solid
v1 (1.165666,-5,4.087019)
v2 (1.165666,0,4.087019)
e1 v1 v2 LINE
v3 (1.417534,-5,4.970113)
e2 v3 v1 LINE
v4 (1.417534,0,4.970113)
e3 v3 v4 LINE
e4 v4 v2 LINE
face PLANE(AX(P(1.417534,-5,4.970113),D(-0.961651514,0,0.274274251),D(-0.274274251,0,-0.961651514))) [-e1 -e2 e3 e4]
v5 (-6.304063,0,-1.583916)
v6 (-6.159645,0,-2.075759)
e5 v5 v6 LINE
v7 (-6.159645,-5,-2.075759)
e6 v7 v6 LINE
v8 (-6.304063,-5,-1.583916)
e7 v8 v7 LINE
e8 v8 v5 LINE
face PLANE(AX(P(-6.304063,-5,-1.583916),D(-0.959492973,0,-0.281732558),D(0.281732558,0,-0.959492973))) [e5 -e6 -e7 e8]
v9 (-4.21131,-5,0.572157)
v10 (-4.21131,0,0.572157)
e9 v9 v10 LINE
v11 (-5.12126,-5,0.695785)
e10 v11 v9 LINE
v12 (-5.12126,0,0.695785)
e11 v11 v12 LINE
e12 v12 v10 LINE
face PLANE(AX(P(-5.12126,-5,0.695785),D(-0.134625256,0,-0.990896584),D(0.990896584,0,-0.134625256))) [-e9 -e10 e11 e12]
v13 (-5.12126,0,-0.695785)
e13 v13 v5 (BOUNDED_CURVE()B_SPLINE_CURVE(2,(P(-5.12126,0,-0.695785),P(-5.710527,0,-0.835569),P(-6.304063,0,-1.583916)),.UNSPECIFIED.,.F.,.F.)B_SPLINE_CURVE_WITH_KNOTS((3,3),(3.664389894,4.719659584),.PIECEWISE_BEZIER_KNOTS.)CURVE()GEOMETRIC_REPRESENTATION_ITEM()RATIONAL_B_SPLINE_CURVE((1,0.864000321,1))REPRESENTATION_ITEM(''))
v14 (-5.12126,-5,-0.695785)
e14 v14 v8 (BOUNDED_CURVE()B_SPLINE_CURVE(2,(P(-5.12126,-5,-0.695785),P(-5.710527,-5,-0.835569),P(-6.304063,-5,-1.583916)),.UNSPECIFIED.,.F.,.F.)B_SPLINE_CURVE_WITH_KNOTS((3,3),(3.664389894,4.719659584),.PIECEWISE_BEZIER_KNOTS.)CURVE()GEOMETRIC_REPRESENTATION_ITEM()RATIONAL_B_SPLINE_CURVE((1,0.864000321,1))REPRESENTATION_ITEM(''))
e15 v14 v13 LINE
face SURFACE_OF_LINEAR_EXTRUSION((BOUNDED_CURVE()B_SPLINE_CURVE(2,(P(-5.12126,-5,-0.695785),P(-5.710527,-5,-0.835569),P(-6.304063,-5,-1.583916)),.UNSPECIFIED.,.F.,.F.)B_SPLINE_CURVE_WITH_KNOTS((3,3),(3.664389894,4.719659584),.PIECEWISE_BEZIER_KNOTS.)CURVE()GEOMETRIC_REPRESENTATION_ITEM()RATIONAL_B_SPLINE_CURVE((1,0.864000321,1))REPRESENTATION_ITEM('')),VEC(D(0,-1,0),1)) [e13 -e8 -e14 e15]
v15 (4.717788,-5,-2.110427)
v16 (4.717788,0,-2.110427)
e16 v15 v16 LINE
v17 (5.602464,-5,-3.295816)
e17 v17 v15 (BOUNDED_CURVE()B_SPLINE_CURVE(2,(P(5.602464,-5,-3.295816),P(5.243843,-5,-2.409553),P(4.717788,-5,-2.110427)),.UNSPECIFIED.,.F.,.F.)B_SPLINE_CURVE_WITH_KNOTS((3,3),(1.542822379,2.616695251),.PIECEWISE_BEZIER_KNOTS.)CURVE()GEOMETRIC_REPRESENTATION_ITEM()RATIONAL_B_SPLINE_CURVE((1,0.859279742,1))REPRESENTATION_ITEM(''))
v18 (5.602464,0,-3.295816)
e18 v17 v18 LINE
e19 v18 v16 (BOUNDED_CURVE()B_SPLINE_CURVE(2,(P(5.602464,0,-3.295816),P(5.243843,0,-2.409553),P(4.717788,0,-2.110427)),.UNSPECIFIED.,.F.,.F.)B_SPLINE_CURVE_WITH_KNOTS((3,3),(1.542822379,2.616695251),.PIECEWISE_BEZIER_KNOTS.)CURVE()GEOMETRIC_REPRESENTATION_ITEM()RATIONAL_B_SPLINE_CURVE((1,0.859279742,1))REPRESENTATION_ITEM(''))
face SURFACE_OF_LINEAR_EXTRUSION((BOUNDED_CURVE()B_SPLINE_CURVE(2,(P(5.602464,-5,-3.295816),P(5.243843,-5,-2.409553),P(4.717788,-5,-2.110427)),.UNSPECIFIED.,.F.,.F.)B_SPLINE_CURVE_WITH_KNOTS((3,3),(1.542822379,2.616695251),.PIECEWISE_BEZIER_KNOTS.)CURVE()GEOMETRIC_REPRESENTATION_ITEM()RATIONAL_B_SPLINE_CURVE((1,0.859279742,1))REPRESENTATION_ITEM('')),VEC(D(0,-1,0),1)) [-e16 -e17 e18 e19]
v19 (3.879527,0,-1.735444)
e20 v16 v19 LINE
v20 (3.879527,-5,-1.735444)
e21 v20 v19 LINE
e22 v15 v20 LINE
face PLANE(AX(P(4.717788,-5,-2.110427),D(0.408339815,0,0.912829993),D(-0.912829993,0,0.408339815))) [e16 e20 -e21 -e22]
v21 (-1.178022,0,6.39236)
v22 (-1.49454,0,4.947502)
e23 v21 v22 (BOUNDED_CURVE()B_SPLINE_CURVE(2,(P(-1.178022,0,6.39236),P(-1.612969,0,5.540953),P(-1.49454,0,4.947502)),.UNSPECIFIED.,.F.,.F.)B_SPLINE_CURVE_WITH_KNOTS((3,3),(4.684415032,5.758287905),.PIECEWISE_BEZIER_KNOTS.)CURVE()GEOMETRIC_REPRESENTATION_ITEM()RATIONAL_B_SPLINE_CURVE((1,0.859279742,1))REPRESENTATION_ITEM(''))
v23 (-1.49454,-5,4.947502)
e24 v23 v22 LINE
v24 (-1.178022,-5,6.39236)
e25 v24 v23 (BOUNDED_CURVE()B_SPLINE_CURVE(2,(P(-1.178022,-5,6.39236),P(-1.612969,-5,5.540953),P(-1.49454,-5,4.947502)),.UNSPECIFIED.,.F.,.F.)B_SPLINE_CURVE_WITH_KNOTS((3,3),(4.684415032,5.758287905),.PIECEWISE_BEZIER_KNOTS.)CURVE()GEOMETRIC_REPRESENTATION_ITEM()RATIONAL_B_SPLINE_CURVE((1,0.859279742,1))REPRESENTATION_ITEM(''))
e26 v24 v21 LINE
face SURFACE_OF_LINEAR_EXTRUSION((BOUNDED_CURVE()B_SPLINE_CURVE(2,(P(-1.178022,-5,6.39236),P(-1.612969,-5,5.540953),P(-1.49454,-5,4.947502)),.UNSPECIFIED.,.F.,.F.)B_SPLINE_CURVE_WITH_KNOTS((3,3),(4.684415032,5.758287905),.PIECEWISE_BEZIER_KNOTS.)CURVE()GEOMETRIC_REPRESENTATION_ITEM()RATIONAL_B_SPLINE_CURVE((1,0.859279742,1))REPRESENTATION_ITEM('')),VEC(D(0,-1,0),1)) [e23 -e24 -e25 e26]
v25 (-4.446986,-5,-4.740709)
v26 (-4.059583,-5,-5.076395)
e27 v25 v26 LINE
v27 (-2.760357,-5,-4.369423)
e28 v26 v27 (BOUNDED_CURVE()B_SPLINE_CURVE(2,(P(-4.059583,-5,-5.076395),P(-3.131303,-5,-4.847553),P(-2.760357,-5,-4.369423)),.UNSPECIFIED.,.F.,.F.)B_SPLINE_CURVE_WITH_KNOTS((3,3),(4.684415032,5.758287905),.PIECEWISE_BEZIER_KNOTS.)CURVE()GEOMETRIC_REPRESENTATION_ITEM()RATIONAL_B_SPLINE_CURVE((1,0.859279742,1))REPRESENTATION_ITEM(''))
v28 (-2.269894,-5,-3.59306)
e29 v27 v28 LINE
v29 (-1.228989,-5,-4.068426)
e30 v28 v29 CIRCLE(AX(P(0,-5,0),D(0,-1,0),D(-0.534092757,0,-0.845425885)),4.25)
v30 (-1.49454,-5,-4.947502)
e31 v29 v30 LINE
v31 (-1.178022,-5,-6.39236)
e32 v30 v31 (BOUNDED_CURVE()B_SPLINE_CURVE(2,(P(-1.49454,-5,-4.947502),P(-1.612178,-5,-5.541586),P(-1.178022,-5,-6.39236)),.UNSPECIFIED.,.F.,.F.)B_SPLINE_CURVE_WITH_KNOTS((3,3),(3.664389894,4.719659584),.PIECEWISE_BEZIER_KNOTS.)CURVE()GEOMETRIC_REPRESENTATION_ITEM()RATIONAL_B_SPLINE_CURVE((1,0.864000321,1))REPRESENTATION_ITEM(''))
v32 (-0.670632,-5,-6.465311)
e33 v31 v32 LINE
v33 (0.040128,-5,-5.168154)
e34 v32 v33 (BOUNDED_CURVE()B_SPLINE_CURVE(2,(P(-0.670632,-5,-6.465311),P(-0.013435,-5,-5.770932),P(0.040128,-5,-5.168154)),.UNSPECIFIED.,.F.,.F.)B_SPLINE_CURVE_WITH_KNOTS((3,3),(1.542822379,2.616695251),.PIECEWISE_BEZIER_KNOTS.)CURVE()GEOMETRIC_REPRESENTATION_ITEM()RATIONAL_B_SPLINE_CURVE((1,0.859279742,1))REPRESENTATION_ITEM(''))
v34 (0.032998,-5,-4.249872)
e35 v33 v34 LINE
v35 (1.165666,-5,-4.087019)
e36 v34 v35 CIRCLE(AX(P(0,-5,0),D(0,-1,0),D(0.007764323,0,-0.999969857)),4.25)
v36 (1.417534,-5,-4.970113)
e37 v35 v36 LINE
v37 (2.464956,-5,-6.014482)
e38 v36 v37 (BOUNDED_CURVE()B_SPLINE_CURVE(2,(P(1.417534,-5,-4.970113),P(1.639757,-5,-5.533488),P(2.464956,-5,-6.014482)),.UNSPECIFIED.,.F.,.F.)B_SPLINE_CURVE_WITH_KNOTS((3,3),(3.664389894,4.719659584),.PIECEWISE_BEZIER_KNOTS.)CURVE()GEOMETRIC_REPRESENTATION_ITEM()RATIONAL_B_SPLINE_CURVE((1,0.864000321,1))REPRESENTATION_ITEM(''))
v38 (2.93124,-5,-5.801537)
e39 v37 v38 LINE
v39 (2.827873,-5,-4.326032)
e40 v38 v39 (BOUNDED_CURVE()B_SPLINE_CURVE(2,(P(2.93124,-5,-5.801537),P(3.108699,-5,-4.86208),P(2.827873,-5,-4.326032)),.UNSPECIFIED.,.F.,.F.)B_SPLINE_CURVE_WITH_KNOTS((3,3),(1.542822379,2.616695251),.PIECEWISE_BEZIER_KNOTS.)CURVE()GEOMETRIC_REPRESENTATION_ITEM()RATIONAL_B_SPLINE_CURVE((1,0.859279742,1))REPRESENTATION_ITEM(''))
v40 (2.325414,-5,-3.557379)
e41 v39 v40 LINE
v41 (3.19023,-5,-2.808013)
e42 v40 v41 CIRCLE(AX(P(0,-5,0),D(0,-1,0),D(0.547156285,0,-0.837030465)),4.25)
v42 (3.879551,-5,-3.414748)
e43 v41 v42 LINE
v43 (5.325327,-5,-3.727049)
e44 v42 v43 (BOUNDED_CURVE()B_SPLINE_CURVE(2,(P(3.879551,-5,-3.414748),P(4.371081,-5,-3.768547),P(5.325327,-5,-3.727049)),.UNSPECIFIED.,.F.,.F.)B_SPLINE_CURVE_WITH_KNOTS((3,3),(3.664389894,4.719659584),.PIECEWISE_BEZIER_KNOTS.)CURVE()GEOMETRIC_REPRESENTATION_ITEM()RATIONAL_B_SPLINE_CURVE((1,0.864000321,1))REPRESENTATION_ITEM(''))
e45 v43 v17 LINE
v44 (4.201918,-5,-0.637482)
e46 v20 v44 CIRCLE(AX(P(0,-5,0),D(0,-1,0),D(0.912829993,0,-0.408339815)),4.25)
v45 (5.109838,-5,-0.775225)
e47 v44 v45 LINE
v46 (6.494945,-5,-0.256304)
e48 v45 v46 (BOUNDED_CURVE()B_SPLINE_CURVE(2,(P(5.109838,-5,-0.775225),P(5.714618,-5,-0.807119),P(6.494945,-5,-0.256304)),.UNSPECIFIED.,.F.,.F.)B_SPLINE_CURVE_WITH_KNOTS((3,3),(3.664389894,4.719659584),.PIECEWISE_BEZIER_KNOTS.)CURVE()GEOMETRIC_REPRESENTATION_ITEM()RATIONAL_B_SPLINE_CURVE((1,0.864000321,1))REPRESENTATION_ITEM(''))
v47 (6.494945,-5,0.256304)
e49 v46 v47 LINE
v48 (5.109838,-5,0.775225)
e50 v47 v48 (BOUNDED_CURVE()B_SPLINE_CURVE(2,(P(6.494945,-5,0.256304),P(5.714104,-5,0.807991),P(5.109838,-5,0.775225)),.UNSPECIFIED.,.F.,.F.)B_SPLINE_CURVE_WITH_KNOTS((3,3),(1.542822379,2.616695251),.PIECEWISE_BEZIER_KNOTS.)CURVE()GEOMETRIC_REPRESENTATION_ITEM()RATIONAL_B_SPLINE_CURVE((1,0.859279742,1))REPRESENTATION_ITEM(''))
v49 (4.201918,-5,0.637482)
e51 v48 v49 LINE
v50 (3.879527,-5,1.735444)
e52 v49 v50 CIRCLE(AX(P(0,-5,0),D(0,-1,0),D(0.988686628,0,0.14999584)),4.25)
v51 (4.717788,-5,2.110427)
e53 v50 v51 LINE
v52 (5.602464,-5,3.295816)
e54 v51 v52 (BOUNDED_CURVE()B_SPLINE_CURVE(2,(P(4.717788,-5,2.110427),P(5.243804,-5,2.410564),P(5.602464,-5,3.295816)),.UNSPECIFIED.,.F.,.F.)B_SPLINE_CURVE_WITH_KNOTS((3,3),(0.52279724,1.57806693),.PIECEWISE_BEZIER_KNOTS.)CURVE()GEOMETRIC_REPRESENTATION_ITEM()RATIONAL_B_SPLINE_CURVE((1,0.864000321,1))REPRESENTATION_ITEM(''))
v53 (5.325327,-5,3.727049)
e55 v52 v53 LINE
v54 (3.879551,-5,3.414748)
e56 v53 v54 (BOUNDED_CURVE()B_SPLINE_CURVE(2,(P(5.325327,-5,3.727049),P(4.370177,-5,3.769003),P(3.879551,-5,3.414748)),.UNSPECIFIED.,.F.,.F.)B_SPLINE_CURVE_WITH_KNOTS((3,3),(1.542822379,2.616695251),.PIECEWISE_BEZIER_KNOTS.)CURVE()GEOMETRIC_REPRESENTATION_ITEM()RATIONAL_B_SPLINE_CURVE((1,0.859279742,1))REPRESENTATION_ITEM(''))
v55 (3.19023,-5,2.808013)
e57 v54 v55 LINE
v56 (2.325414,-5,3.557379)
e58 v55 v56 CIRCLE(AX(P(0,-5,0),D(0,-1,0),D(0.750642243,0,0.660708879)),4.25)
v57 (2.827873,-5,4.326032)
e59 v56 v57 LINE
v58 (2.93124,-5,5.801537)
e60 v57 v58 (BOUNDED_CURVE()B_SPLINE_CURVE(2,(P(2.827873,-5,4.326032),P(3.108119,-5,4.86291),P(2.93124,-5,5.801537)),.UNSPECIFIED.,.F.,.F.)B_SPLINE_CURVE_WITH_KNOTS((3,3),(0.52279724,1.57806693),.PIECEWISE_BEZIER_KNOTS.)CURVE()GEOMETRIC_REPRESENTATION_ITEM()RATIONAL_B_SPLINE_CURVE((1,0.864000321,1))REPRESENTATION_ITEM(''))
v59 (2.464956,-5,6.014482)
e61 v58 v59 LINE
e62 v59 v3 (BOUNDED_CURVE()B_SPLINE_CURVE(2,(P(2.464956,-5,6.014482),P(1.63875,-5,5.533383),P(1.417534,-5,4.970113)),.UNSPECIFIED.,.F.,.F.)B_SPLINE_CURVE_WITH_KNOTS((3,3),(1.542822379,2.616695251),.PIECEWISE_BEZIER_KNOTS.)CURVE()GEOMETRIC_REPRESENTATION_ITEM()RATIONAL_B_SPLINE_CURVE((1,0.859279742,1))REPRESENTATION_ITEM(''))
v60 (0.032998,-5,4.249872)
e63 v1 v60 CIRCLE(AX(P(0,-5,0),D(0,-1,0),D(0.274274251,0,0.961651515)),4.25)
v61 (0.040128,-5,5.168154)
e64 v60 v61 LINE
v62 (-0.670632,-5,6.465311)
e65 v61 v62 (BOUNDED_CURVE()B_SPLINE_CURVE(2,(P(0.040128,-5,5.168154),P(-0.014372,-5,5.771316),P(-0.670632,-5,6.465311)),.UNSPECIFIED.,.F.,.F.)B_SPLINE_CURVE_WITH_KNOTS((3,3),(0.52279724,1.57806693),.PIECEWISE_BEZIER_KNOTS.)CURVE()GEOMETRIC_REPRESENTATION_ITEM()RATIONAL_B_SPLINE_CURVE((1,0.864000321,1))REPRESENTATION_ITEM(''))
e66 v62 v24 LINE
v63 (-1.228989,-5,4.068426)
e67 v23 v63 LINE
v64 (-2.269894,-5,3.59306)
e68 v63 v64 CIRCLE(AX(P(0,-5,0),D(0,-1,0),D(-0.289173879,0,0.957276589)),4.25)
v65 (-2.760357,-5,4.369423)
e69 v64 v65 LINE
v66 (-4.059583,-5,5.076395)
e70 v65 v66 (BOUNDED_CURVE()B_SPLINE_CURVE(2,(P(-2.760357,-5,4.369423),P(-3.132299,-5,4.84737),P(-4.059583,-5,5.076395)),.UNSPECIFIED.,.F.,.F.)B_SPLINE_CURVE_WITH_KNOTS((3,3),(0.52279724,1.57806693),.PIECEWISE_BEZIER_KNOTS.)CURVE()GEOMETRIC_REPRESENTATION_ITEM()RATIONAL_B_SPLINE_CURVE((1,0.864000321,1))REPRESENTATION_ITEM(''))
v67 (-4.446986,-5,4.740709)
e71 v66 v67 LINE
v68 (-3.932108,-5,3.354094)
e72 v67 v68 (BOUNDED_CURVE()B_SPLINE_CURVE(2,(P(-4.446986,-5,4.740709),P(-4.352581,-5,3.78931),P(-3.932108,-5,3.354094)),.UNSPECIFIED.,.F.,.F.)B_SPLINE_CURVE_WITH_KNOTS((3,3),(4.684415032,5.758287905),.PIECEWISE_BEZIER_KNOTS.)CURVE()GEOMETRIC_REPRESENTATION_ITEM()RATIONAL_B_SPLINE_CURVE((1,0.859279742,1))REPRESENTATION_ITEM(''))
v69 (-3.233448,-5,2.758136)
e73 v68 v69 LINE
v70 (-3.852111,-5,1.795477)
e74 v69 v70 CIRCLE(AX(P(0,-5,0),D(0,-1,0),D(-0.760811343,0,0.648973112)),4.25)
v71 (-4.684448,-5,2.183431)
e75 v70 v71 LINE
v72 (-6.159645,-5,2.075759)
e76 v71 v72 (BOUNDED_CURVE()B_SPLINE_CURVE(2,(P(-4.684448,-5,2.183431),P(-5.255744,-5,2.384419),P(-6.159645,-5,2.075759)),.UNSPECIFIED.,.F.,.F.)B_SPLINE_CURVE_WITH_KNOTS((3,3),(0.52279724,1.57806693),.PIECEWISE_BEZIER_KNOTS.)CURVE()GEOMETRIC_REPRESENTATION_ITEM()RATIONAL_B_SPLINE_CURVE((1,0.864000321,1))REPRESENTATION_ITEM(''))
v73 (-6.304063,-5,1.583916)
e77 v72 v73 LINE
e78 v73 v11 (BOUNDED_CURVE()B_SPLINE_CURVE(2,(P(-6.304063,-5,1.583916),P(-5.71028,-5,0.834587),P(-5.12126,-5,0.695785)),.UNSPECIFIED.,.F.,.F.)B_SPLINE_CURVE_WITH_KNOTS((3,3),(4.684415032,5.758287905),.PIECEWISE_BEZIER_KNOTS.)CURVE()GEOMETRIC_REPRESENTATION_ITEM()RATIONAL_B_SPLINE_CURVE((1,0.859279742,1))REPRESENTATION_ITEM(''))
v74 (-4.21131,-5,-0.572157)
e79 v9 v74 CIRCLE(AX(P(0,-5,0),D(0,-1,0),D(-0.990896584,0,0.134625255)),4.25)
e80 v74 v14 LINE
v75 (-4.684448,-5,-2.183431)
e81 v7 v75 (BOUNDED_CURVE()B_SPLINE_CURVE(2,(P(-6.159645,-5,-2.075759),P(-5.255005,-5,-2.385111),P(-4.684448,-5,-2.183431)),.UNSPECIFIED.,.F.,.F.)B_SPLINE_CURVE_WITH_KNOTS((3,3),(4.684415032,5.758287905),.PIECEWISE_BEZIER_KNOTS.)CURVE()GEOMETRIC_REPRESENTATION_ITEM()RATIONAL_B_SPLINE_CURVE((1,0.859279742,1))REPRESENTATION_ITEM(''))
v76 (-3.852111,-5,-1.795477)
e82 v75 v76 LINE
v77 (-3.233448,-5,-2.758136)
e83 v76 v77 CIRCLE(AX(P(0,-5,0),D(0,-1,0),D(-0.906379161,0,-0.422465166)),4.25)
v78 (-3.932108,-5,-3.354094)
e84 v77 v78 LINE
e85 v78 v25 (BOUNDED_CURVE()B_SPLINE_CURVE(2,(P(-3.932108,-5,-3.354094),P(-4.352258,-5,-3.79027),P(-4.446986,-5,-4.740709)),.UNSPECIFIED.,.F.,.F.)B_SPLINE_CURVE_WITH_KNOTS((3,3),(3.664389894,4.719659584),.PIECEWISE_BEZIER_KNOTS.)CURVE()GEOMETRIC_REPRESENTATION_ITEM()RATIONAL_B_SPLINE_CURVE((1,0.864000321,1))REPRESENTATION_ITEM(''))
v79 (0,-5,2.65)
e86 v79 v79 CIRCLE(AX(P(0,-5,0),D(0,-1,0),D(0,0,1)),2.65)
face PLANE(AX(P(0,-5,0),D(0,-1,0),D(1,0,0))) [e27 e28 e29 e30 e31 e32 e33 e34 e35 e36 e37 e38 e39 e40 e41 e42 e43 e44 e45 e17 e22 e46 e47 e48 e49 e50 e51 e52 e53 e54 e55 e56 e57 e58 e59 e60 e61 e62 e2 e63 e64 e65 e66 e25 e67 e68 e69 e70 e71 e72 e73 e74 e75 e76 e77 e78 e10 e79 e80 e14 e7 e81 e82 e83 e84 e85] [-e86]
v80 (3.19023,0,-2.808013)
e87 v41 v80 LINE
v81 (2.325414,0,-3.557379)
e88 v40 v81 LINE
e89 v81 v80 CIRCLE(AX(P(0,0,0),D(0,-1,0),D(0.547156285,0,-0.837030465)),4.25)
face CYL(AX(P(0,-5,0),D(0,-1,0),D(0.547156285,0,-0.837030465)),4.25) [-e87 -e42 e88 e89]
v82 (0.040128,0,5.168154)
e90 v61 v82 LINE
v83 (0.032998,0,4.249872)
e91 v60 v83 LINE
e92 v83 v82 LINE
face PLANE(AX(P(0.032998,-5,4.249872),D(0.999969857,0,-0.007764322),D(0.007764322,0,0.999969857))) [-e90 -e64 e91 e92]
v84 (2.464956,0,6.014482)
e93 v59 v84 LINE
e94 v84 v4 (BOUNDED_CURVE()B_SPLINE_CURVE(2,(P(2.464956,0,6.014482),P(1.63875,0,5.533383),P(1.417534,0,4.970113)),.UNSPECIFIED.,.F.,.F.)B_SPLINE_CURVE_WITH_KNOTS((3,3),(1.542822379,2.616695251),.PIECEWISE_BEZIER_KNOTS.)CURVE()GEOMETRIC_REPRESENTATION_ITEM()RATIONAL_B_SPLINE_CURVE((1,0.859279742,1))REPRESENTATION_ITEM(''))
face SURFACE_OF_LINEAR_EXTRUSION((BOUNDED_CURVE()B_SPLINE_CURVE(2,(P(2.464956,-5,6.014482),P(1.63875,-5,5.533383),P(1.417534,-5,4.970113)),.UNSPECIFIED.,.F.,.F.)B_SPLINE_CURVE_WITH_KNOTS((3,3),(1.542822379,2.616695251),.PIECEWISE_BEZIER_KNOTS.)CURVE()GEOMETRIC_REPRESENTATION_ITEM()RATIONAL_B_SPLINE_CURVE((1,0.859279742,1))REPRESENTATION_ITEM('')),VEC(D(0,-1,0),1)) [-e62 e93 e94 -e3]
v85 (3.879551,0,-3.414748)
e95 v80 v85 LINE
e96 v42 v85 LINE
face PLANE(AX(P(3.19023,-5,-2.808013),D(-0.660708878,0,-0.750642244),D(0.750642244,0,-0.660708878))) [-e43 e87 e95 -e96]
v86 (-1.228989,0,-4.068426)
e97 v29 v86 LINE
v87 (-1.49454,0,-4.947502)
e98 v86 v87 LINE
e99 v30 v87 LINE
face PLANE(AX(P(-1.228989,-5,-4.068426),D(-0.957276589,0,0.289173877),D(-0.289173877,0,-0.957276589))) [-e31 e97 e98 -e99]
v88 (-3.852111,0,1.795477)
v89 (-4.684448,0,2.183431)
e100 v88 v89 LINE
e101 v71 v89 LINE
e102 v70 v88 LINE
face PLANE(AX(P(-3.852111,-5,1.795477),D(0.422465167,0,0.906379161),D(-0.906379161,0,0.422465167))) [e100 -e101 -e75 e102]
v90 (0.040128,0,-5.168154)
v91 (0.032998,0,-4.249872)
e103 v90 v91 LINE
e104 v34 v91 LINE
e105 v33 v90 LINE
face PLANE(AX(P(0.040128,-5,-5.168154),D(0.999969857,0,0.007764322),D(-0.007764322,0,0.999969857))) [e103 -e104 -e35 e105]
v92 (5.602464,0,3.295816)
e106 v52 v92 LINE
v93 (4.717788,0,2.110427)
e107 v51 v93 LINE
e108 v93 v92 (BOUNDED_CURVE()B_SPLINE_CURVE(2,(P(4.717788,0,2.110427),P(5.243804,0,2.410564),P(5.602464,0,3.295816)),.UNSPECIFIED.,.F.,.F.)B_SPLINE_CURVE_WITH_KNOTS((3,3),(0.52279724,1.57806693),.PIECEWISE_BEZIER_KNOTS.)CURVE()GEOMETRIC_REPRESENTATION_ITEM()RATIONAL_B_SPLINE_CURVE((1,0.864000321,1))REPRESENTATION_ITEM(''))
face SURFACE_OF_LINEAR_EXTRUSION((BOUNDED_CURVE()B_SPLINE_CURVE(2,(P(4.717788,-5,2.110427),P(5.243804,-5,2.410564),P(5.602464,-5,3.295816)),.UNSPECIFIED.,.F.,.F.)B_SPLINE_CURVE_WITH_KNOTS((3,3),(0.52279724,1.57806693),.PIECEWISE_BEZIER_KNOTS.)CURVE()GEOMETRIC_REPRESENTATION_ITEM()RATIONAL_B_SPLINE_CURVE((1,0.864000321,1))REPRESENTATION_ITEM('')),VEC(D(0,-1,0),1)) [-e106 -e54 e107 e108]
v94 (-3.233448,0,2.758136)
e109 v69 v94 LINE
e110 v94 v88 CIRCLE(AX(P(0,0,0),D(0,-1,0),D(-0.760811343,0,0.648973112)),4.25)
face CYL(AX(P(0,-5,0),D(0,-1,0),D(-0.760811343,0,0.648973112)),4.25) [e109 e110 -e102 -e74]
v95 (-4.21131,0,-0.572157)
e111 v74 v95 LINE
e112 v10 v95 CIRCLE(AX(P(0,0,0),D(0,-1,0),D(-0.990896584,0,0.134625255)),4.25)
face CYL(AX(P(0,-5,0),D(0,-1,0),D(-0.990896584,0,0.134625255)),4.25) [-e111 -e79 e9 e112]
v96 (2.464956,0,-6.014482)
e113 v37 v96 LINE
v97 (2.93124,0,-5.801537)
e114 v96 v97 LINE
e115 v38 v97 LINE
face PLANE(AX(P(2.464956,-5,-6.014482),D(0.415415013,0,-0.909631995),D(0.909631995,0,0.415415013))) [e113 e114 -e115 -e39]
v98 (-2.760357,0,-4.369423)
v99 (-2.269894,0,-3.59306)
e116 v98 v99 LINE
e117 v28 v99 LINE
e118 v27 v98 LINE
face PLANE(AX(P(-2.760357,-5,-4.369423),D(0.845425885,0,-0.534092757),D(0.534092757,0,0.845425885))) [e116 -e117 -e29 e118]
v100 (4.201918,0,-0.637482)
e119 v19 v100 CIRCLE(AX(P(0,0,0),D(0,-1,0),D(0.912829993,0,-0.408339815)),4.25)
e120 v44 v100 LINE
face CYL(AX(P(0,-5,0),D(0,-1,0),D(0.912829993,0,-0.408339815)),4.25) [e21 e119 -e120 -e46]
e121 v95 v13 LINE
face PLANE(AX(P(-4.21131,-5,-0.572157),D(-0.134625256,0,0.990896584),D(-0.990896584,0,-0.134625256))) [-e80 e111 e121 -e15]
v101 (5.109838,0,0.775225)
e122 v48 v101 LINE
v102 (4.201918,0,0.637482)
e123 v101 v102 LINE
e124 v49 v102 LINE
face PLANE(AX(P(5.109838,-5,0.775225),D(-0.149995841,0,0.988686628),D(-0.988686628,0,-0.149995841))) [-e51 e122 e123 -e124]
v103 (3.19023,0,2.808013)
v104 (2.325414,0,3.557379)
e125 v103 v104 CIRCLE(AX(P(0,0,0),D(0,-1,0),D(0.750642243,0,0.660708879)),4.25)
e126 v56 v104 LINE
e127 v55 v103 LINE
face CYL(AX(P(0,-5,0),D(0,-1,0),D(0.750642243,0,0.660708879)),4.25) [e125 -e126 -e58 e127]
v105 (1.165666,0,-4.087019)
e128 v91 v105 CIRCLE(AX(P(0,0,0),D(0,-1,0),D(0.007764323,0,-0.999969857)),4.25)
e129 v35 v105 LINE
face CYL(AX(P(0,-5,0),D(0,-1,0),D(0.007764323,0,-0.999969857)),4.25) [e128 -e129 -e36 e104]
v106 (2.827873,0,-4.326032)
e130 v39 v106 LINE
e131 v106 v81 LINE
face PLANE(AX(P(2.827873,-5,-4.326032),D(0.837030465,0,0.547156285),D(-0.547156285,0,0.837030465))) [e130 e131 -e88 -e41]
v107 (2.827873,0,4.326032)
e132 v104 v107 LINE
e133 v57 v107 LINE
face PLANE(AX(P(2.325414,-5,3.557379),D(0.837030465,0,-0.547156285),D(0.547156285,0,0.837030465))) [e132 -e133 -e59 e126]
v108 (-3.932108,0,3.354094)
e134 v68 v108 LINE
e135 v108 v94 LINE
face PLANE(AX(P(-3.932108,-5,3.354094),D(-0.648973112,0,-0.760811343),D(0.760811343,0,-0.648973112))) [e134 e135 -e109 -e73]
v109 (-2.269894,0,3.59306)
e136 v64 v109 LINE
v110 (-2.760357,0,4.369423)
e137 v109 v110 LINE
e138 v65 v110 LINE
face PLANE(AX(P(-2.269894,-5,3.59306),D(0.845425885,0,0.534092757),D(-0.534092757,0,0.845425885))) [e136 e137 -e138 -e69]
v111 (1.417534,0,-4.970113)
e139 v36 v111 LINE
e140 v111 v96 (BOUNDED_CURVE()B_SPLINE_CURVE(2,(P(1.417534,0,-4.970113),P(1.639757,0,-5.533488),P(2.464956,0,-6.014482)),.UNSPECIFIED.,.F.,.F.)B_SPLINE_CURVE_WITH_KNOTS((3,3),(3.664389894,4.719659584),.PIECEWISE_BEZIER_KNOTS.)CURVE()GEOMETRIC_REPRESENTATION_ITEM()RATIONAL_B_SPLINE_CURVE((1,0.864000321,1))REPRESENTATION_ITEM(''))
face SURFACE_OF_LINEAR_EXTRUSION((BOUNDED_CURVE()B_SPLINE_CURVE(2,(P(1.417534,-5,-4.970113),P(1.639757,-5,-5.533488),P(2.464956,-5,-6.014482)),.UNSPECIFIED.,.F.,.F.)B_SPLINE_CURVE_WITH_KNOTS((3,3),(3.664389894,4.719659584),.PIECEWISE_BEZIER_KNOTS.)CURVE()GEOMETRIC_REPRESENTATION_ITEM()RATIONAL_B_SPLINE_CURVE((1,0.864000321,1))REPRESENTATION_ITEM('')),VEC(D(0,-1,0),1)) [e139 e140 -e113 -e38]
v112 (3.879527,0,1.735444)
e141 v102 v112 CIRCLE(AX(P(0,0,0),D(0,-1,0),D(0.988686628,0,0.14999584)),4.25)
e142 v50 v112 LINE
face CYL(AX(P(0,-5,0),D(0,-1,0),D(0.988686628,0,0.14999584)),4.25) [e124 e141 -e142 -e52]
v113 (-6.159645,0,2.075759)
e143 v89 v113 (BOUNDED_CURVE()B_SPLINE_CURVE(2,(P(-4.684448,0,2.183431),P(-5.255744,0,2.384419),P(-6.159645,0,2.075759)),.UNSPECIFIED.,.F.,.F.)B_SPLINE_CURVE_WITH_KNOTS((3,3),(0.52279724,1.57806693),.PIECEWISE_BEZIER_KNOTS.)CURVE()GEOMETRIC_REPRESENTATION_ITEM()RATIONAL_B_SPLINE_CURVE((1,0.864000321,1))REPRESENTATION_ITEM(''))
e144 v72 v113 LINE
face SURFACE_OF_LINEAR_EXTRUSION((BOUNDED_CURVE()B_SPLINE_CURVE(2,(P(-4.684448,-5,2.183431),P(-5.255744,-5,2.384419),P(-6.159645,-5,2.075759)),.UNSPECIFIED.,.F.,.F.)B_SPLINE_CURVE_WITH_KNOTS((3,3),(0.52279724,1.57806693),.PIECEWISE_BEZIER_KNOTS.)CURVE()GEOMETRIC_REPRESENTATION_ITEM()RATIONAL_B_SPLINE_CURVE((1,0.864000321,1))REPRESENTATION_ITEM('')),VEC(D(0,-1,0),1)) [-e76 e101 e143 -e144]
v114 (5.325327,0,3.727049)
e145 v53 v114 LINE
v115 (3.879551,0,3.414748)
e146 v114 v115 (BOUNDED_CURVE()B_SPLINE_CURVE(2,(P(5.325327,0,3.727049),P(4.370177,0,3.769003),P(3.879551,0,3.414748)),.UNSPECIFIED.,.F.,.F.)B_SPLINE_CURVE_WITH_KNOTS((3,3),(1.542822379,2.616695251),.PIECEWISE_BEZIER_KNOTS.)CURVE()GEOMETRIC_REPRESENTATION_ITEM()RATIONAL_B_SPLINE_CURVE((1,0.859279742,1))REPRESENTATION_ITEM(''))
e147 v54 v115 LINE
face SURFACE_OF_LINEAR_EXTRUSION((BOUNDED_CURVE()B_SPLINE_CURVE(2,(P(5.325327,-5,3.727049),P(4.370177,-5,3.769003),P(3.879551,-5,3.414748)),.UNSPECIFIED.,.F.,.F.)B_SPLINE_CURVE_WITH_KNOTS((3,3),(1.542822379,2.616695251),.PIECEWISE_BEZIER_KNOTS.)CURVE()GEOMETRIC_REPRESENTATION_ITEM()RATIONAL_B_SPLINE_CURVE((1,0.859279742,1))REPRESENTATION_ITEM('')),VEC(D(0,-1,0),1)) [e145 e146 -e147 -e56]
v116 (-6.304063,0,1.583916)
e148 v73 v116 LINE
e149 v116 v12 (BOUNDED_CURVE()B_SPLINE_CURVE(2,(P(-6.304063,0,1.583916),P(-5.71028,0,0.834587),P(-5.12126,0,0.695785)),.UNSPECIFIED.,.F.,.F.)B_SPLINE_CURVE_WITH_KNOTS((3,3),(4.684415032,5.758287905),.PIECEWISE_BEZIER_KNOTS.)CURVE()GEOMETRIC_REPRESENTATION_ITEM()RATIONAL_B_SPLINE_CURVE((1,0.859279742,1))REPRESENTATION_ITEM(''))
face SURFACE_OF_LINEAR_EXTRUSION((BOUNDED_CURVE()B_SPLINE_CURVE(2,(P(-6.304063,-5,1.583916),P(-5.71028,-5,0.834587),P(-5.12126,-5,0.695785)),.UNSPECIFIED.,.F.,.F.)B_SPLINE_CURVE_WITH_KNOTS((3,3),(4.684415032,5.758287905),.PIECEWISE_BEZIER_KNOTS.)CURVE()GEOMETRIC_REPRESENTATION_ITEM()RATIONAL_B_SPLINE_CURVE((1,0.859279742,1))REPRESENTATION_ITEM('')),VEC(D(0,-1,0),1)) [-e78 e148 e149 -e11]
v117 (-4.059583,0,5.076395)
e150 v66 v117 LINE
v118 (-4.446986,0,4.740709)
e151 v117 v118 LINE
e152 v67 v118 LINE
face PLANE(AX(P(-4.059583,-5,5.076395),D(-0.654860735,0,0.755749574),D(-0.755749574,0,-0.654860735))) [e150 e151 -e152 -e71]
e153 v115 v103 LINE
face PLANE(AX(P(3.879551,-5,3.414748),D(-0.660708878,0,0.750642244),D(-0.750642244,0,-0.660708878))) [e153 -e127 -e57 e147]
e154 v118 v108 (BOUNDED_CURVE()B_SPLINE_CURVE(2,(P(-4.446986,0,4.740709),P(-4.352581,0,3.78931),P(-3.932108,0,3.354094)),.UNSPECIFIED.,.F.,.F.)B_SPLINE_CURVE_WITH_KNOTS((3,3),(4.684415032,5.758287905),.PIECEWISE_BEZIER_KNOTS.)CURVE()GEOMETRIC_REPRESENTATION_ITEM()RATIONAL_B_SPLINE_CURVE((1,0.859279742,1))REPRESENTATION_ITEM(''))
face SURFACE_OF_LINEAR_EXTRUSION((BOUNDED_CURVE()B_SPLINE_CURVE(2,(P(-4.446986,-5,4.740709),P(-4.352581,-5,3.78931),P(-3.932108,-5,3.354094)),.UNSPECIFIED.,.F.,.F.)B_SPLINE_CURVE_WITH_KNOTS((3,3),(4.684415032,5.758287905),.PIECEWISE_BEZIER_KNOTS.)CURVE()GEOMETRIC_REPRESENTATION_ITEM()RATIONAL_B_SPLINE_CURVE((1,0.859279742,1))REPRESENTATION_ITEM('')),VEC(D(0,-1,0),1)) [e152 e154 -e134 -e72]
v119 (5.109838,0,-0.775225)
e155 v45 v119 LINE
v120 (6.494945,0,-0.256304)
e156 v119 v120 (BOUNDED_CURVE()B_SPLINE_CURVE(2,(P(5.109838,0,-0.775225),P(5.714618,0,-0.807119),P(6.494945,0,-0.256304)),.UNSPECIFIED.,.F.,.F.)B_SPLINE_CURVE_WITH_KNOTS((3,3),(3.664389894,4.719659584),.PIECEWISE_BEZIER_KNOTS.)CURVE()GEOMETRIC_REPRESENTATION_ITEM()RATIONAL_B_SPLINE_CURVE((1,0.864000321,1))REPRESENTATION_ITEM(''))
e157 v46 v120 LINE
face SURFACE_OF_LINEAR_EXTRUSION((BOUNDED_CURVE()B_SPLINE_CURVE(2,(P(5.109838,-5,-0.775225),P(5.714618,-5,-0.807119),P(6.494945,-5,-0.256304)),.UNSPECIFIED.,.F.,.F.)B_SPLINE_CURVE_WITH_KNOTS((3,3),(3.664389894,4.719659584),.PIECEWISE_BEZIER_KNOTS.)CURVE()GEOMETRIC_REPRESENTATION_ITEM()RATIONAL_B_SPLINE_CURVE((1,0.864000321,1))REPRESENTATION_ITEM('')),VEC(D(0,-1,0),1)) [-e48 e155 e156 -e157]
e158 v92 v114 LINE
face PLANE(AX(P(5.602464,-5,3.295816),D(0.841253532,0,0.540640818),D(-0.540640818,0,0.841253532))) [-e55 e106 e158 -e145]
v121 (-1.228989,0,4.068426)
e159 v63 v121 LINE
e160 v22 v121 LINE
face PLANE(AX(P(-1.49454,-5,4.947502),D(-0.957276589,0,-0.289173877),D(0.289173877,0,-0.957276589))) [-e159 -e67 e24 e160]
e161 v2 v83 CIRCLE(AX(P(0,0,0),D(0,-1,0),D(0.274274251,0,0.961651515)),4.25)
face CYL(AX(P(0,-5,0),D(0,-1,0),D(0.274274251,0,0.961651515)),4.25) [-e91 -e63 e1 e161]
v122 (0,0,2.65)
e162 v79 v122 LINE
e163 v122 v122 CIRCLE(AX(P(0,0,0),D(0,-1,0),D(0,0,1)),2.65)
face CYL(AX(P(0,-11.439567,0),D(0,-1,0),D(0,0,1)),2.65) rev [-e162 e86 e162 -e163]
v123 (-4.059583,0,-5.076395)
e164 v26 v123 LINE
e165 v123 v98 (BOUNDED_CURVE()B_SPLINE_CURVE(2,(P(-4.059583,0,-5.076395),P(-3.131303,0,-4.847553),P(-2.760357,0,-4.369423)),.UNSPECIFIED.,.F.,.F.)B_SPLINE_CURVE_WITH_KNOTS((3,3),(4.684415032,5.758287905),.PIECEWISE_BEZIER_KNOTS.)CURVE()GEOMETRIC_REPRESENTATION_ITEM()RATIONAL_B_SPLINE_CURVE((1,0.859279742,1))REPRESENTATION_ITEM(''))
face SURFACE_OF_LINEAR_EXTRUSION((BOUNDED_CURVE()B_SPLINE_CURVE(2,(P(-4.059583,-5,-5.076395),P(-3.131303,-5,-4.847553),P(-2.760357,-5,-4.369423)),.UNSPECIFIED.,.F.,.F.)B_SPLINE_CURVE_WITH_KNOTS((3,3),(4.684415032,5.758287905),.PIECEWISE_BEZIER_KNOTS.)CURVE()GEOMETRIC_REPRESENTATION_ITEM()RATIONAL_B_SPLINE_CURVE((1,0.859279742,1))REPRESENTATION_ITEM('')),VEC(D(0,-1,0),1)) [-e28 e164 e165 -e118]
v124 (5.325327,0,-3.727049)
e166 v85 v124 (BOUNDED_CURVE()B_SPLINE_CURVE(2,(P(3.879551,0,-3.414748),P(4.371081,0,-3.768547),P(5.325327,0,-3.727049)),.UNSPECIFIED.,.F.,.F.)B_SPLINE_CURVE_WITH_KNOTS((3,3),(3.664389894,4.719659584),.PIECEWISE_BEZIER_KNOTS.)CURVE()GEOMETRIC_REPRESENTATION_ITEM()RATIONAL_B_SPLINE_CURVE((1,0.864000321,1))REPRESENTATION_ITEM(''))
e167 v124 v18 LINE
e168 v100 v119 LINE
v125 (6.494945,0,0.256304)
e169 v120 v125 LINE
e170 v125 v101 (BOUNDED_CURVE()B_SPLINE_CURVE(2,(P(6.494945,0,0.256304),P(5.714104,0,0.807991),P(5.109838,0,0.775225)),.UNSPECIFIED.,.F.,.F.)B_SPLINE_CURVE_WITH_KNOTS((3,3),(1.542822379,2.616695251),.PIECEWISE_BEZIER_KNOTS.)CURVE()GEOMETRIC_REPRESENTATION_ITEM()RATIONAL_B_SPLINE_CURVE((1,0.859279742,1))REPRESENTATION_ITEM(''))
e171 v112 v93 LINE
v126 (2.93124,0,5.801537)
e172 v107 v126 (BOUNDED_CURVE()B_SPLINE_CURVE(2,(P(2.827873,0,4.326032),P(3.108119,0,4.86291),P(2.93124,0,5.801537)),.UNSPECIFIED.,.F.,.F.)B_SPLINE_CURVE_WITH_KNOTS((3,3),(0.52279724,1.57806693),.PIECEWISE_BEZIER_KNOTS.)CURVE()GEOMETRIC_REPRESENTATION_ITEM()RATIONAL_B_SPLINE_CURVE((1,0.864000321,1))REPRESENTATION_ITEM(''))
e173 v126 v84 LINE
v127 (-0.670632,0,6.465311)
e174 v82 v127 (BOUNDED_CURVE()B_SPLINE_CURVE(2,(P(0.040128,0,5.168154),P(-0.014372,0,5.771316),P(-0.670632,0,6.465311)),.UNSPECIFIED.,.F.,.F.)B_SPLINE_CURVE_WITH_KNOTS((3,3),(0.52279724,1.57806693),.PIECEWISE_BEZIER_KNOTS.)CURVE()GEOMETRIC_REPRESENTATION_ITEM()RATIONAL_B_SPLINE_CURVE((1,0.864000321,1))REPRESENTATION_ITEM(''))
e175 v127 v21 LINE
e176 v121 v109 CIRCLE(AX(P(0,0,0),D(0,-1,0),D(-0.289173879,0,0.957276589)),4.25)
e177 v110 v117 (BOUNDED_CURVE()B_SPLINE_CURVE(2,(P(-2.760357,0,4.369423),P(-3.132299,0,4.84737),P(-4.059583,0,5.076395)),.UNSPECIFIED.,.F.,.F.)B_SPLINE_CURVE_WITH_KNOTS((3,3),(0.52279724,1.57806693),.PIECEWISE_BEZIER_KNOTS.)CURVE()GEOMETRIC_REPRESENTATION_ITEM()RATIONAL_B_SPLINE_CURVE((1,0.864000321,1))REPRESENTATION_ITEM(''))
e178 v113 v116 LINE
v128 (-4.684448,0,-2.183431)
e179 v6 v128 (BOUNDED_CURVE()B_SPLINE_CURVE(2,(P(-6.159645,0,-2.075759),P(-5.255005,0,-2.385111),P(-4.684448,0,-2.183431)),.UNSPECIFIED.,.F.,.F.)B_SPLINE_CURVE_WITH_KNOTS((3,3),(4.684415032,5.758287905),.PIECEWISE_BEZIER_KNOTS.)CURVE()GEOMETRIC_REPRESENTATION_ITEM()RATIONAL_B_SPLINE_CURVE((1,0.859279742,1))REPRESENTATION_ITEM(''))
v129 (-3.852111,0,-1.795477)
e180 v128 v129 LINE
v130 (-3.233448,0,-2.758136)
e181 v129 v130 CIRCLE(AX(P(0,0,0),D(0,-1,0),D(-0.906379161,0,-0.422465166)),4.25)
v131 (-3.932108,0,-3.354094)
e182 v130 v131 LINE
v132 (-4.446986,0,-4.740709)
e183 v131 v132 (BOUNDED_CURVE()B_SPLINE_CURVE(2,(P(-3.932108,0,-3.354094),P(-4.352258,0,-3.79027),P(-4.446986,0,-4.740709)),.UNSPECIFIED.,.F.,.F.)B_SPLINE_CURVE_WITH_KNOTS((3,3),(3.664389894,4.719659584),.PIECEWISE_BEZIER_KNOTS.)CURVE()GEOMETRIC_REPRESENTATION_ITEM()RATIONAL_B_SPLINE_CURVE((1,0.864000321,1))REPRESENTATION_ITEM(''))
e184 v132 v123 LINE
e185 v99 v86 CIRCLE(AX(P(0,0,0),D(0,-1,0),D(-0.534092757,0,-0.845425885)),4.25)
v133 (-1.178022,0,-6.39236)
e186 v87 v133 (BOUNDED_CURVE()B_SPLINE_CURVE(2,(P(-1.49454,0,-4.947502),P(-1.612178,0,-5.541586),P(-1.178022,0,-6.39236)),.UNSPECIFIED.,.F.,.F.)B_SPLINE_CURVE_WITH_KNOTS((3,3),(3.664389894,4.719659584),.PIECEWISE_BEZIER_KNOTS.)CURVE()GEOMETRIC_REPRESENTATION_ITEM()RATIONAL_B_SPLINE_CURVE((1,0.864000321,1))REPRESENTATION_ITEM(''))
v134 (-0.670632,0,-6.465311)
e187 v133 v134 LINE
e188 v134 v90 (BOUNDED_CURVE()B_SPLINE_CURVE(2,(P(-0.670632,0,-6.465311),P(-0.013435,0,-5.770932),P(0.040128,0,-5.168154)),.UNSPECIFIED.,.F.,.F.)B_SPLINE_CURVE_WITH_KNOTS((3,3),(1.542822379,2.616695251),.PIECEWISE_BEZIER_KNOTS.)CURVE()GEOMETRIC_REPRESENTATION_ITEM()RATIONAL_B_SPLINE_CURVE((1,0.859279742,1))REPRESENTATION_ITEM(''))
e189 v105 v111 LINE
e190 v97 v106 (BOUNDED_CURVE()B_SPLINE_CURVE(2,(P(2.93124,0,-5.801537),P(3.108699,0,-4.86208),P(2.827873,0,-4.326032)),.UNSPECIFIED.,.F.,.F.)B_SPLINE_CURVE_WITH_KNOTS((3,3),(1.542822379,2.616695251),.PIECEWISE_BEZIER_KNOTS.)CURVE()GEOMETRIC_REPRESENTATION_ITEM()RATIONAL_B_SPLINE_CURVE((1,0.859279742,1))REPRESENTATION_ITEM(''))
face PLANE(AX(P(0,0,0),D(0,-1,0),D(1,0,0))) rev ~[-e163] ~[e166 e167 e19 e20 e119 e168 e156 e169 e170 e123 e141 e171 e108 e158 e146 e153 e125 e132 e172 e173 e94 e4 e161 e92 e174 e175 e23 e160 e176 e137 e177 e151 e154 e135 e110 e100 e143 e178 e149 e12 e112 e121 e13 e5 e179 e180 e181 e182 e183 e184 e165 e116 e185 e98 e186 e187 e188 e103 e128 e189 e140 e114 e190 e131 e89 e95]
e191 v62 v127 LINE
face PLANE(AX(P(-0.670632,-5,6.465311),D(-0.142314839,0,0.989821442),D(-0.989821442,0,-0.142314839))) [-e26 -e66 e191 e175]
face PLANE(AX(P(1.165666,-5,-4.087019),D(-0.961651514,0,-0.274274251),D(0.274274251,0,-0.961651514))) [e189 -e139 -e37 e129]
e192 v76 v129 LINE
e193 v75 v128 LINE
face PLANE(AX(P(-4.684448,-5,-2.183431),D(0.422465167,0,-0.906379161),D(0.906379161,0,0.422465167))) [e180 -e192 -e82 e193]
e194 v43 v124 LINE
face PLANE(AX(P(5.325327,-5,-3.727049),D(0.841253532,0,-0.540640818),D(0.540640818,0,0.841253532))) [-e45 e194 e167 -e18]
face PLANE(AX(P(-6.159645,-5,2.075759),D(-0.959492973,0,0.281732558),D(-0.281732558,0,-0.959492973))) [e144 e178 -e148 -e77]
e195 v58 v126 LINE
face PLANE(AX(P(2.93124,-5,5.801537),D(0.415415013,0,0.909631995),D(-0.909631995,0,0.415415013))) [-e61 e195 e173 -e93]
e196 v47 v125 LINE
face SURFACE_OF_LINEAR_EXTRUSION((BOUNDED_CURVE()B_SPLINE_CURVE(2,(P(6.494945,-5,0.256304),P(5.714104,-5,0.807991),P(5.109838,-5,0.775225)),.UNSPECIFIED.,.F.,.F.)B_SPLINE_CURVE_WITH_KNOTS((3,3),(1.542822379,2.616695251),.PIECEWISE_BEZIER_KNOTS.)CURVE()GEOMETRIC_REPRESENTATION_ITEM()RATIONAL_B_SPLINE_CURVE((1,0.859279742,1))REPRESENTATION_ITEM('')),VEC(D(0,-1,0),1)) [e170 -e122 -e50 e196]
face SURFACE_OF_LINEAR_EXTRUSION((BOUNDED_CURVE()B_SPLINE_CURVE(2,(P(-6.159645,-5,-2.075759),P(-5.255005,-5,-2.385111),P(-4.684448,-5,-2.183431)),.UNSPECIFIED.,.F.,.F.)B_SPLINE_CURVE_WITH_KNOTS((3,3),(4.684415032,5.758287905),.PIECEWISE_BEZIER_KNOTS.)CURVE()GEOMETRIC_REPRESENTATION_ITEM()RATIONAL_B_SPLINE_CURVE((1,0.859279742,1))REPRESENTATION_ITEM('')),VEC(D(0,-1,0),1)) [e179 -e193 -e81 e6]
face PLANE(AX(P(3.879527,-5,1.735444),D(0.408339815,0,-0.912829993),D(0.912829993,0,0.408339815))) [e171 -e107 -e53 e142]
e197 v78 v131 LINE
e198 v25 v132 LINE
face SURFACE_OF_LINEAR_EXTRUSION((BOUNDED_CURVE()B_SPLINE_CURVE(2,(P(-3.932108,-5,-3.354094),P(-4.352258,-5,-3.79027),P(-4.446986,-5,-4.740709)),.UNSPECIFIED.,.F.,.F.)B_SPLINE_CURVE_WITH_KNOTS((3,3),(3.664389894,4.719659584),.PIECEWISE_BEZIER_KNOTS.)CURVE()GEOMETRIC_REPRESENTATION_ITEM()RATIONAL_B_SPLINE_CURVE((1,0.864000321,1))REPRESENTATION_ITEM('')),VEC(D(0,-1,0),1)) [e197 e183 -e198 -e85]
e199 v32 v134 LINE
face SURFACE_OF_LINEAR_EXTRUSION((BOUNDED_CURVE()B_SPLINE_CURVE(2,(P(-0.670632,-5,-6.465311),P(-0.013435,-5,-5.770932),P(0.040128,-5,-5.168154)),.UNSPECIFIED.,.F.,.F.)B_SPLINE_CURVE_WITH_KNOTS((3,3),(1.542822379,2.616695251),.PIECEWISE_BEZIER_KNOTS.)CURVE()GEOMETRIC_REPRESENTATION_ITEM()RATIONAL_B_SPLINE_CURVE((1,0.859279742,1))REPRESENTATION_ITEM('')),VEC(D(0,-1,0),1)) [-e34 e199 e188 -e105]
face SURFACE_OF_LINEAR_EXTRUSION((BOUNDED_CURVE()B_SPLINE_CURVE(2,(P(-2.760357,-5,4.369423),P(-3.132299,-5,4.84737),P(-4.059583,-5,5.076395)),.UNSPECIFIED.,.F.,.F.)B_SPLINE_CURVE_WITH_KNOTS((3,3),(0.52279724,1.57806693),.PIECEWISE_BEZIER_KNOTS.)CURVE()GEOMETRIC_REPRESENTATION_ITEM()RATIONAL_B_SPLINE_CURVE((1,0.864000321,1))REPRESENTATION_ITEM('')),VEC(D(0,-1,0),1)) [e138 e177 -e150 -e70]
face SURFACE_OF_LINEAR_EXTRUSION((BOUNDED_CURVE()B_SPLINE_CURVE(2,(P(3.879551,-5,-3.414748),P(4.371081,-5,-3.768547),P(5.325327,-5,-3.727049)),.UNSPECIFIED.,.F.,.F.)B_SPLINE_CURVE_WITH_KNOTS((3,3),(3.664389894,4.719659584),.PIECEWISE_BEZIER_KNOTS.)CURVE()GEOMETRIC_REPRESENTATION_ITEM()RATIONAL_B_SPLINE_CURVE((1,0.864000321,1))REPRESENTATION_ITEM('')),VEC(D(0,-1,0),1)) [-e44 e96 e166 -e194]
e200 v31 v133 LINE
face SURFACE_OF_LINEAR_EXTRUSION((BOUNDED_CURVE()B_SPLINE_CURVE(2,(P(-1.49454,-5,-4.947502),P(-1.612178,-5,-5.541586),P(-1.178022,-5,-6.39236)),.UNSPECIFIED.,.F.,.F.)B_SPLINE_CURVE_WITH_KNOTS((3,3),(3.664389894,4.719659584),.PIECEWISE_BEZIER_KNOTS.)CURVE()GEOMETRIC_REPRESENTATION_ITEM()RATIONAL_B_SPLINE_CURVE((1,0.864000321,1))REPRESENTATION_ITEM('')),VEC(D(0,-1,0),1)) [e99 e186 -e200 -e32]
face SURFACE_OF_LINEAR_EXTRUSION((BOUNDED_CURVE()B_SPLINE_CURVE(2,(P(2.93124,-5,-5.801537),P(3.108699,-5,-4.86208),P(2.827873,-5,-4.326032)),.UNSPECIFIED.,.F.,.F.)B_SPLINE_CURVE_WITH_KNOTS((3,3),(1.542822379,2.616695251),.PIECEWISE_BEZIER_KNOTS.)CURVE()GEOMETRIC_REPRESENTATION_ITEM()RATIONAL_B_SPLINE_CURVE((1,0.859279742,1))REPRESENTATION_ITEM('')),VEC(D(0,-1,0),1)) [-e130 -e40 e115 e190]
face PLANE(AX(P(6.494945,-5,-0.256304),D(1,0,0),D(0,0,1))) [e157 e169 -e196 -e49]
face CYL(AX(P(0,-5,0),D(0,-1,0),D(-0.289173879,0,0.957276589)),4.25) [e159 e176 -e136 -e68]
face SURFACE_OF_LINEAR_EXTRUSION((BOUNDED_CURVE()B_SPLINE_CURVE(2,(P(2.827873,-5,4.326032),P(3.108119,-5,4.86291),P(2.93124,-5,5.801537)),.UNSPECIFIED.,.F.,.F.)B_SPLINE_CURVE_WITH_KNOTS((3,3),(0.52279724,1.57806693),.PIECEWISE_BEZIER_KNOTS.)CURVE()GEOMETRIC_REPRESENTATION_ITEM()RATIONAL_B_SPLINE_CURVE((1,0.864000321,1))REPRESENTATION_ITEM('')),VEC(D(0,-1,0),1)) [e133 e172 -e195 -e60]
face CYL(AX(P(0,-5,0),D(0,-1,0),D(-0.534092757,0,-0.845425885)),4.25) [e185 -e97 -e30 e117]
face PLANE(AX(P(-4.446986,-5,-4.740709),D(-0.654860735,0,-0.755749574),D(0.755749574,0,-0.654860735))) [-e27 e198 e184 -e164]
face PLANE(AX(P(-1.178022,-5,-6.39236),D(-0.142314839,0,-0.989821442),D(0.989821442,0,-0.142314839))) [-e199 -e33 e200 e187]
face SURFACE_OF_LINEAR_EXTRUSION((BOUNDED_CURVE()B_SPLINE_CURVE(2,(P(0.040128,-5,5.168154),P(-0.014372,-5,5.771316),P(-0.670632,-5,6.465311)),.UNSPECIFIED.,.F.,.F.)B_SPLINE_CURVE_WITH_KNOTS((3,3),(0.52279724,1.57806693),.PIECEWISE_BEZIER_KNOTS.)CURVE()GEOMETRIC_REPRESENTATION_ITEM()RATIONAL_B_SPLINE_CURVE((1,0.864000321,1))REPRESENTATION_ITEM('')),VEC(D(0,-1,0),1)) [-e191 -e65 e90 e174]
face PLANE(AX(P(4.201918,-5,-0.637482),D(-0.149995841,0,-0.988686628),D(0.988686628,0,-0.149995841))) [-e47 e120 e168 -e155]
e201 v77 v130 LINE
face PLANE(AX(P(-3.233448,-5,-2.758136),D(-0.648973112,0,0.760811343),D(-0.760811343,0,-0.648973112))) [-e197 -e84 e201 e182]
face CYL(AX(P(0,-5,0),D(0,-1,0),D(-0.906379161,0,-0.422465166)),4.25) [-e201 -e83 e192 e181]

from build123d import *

# Parameters (mm, degrees)
BOSS_EXTRUDE1_DEPTH     = 5
CUT_EXTRUDE1_DEPTH      = 11.43956726
CUT_EXTRUDE1_DEPTH_BACK = 11.43956726
SKETCH2_R               = 2.65


with BuildPart() as part:
    # Sketch1 → Boss-Extrude1 (new body)
    with BuildSketch(Plane.XZ.offset(5)):
        with BuildLine():
            Line((3.190229537, -2.808012732), (3.879551376, -3.414747915))
            add(Edge.make_bspline(
                [(3.879551376, -3.414747915), (4.371081204, -3.768547035), (5.325327031, -3.7270487)],
                knots=[3.664389894, 3.664389894, 3.664389894, 4.719659584, 4.719659584, 4.719659584], degree=2, weights=[1, 0.864000321, 1]))
            Line((5.325327031, -3.7270487), (5.602463544, -3.295815869))
            add(Edge.make_bspline(
                [(5.602463544, -3.295815869), (5.243842932, -2.409552511), (4.717787845, -2.11042651)],
                knots=[1.542822379, 1.542822379, 1.542822379, 2.616695251, 2.616695251, 2.616695251], degree=2, weights=[1, 0.859279742, 1]))
            Line((4.717787845, -2.11042651), (3.879527469, -1.735444214))
            ThreePointArc((3.879527469, -1.735444214), (4.077845138, -1.197363367), (4.201918167, -0.637482326))
            Line((4.201918167, -0.637482326), (5.109838405, -0.775224919))
            add(Edge.make_bspline(
                [(5.109838405, -0.775224919), (5.714617855, -0.807118591), (6.494944834, -0.256303727)],
                knots=[3.664389894, 3.664389894, 3.664389894, 4.719659584, 4.719659584, 4.719659584], degree=2, weights=[1, 0.864000321, 1]))
            Line((6.494944834, -0.256303727), (6.494944834, 0.256303727))
            add(Edge.make_bspline(
                [(6.494944834, 0.256303727), (5.714103832, 0.807990967), (5.109838405, 0.775224919)],
                knots=[1.542822379, 1.542822379, 1.542822379, 2.616695251, 2.616695251, 2.616695251], degree=2, weights=[1, 0.859279742, 1]))
            Line((5.109838405, 0.775224919), (4.201918167, 0.637482326))
            ThreePointArc((4.201918167, 0.637482326), (4.077845138, 1.197363367), (3.879527469, 1.735444214))
            Line((3.879527469, 1.735444214), (4.717787845, 2.11042651))
            add(Edge.make_bspline(
                [(4.717787845, 2.11042651), (5.243803714, 2.410564302), (5.602463544, 3.295815869)],
                knots=[0.52279724, 0.52279724, 0.52279724, 1.57806693, 1.57806693, 1.57806693], degree=2, weights=[1, 0.864000321, 1]))
            Line((5.602463544, 3.295815869), (5.325327031, 3.7270487))
            add(Edge.make_bspline(
                [(5.325327031, 3.7270487), (4.370177139, 3.769003022), (3.879551376, 3.414747915)],
                knots=[1.542822379, 1.542822379, 1.542822379, 2.616695251, 2.616695251, 2.616695251], degree=2, weights=[1, 0.859279742, 1]))
            Line((3.879551376, 3.414747915), (3.190229537, 2.808012732))
            ThreePointArc((3.190229537, 2.808012732), (2.783158119, 3.211935691), (2.32541421, 3.557379478))
            Line((2.32541421, 3.557379478), (2.827872978, 4.326032434))
            add(Edge.make_bspline(
                [(2.827872978, 4.326032434), (3.108118945, 4.862910062), (2.931239663, 5.801537213)],
                knots=[0.52279724, 0.52279724, 0.52279724, 1.57806693, 1.57806693, 1.57806693], degree=2, weights=[1, 0.864000321, 1]))
            Line((2.931239663, 5.801537213), (2.464955522, 6.014482045))
            add(Edge.make_bspline(
                [(2.464955522, 6.014482045), (1.638750082, 5.533383248), (1.417534197, 4.970112574)],
                knots=[1.542822379, 1.542822379, 1.542822379, 2.616695251, 2.616695251, 2.616695251], degree=2, weights=[1, 0.859279742, 1]))
            Line((1.417534197, 4.970112574), (1.16566557, 4.087018936))
            ThreePointArc((1.16566557, 4.087018936), (0.604838063, 4.206741128), (0.032998371, 4.249871893))
            Line((0.032998371, 4.249871893), (0.040128421, 5.168153627))
            add(Edge.make_bspline(
                [(0.040128421, 5.168153627), (-0.014371628, 5.771316237), (-0.670632099, 6.465311484)],
                knots=[0.52279724, 0.52279724, 0.52279724, 1.57806693, 1.57806693, 1.57806693], degree=2, weights=[1, 0.864000321, 1]))
            Line((-0.670632099, 6.465311484), (-1.178021948, 6.392359837))
            add(Edge.make_bspline(
                [(-1.178021948, 6.392359837), (-1.612968547, 5.54095339), (-1.494540074, 4.947501609)],
                knots=[4.684415032, 4.684415032, 4.684415032, 5.758287905, 5.758287905, 5.758287905], degree=2, weights=[1, 0.859279742, 1]))
            Line((-1.494540074, 4.947501609), (-1.22898898, 4.068425505))
            ThreePointArc((-1.22898898, 4.068425505), (-1.765513805, 3.86593598), (-2.269894218, 3.59306001))
            Line((-2.269894218, 3.59306001), (-2.760356625, 4.369422559))
            add(Edge.make_bspline(
                [(-2.760356625, 4.369422559), (-3.132299311, 4.847370285), (-4.059582909, 5.076395041)],
                knots=[0.52279724, 0.52279724, 0.52279724, 1.57806693, 1.57806693, 1.57806693], degree=2, weights=[1, 0.864000321, 1]))
            Line((-4.059582909, 5.076395041), (-4.446985774, 4.740708547))
            add(Edge.make_bspline(
                [(-4.446985774, 4.740708547), (-4.352581058, 3.789309981), (-3.932108431, 3.35409384)],
                knots=[4.684415032, 4.684415032, 4.684415032, 5.758287905, 5.758287905, 5.758287905], degree=2, weights=[1, 0.859279742, 1]))
            Line((-3.932108431, 3.35409384), (-3.233448212, 2.758135722))
            ThreePointArc((-3.233448212, 2.758135722), (-3.575327515, 2.297723474), (-3.852111431, 1.795476962))
            Line((-3.852111431, 1.795476962), (-4.684447947, 2.183430702))
            add(Edge.make_bspline(
                [(-4.684447947, 2.183430702), (-5.255744094, 2.384418517), (-6.159644828, 2.07575904)],
                knots=[0.52279724, 0.52279724, 0.52279724, 1.57806693, 1.57806693, 1.57806693], degree=2, weights=[1, 0.864000321, 1]))
            Line((-6.159644828, 2.07575904), (-6.304063037, 1.58391579))
            add(Edge.make_bspline(
                [(-6.304063037, 1.58391579), (-5.710279838, 0.834587427), (-5.121260145, 0.695784976)],
                knots=[4.684415032, 4.684415032, 4.684415032, 5.758287905, 5.758287905, 5.758287905], degree=2, weights=[1, 0.859279742, 1]))
            Line((-5.121260145, 0.695784976), (-4.211310483, 0.572157336))
            ThreePointArc((-4.211310483, 0.572157336), (-4.25, 0), (-4.211310483, -0.572157336))
            Line((-4.211310483, -0.572157336), (-5.121260145, -0.695784976))
            add(Edge.make_bspline(
                [(-5.121260145, -0.695784976), (-5.710527263, -0.835569283), (-6.304063037, -1.58391579)],
                knots=[3.664389894, 3.664389894, 3.664389894, 4.719659584, 4.719659584, 4.719659584], degree=2, weights=[1, 0.864000321, 1]))
            Line((-6.304063037, -1.58391579), (-6.159644828, -2.07575904))
            add(Edge.make_bspline(
                [(-6.159644828, -2.07575904), (-5.255005116, -2.385110738), (-4.684447947, -2.183430702)],
                knots=[4.684415032, 4.684415032, 4.684415032, 5.758287905, 5.758287905, 5.758287905], degree=2, weights=[1, 0.859279742, 1]))
            Line((-4.684447947, -2.183430702), (-3.852111431, -1.795476962))
            ThreePointArc((-3.852111431, -1.795476962), (-3.575327515, -2.297723474), (-3.233448212, -2.758135722))
            Line((-3.233448212, -2.758135722), (-3.932108431, -3.35409384))
            add(Edge.make_bspline(
                [(-3.932108431, -3.35409384), (-4.352258375, -3.790269739), (-4.446985774, -4.740708547)],
                knots=[3.664389894, 3.664389894, 3.664389894, 4.719659584, 4.719659584, 4.719659584], degree=2, weights=[1, 0.864000321, 1]))
            Line((-4.446985774, -4.740708547), (-4.059582909, -5.076395041))
            add(Edge.make_bspline(
                [(-4.059582909, -5.076395041), (-3.1313034, -4.847553096), (-2.760356625, -4.369422559)],
                knots=[4.684415032, 4.684415032, 4.684415032, 5.758287905, 5.758287905, 5.758287905], degree=2, weights=[1, 0.859279742, 1]))
            Line((-2.760356625, -4.369422559), (-2.269894218, -3.59306001))
            ThreePointArc((-2.269894218, -3.59306001), (-1.765513805, -3.86593598), (-1.22898898, -4.068425505))
            Line((-1.22898898, -4.068425505), (-1.494540074, -4.947501609))
            add(Edge.make_bspline(
                [(-1.494540074, -4.947501609), (-1.612178204, -5.541586333), (-1.178021948, -6.392359837)],
                knots=[3.664389894, 3.664389894, 3.664389894, 4.719659584, 4.719659584, 4.719659584], degree=2, weights=[1, 0.864000321, 1]))
            Line((-1.178021948, -6.392359837), (-0.670632099, -6.465311484))
            add(Edge.make_bspline(
                [(-0.670632099, -6.465311484), (-0.013434979, -5.770931598), (0.040128421, -5.168153627)],
                knots=[1.542822379, 1.542822379, 1.542822379, 2.616695251, 2.616695251, 2.616695251], degree=2, weights=[1, 0.859279742, 1]))
            Line((0.040128421, -5.168153627), (0.032998371, -4.249871893))
            ThreePointArc((0.032998371, -4.249871893), (0.604838063, -4.206741128), (1.16566557, -4.087018936))
            Line((1.16566557, -4.087018936), (1.417534197, -4.970112574))
            add(Edge.make_bspline(
                [(1.417534197, -4.970112574), (1.639757156, -5.533488422), (2.464955522, -6.014482045)],
                knots=[3.664389894, 3.664389894, 3.664389894, 4.719659584, 4.719659584, 4.719659584], degree=2, weights=[1, 0.864000321, 1]))
            Line((2.464955522, -6.014482045), (2.931239663, -5.801537213))
            add(Edge.make_bspline(
                [(2.931239663, -5.801537213), (3.108698953, -4.862080092), (2.827872978, -4.326032434)],
                knots=[1.542822379, 1.542822379, 1.542822379, 2.616695251, 2.616695251, 2.616695251], degree=2, weights=[1, 0.859279742, 1]))
            Line((2.827872978, -4.326032434), (2.32541421, -3.557379478))
            ThreePointArc((2.32541421, -3.557379478), (2.783158119, -3.211935691), (3.190229537, -2.808012732))
        make_face()
    extrude(amount=-BOSS_EXTRUDE1_DEPTH)

    # Sketch2 → Cut-Extrude1 (cut, two sides: drawn at the far end of the back side and taken through both)
    with BuildSketch(Plane(origin=(0, 0, 0), x_dir=(1, 0, 0), z_dir=(0, 1, 0)).offset(-CUT_EXTRUDE1_DEPTH_BACK)):
        with Locations(Location((0, 0, 0), (0, 0, 270))):
            Circle(SKETCH2_R)
    extrude(amount=CUT_EXTRUDE1_DEPTH + CUT_EXTRUDE1_DEPTH_BACK, mode=Mode.SUBTRACT)


solid = part.part
